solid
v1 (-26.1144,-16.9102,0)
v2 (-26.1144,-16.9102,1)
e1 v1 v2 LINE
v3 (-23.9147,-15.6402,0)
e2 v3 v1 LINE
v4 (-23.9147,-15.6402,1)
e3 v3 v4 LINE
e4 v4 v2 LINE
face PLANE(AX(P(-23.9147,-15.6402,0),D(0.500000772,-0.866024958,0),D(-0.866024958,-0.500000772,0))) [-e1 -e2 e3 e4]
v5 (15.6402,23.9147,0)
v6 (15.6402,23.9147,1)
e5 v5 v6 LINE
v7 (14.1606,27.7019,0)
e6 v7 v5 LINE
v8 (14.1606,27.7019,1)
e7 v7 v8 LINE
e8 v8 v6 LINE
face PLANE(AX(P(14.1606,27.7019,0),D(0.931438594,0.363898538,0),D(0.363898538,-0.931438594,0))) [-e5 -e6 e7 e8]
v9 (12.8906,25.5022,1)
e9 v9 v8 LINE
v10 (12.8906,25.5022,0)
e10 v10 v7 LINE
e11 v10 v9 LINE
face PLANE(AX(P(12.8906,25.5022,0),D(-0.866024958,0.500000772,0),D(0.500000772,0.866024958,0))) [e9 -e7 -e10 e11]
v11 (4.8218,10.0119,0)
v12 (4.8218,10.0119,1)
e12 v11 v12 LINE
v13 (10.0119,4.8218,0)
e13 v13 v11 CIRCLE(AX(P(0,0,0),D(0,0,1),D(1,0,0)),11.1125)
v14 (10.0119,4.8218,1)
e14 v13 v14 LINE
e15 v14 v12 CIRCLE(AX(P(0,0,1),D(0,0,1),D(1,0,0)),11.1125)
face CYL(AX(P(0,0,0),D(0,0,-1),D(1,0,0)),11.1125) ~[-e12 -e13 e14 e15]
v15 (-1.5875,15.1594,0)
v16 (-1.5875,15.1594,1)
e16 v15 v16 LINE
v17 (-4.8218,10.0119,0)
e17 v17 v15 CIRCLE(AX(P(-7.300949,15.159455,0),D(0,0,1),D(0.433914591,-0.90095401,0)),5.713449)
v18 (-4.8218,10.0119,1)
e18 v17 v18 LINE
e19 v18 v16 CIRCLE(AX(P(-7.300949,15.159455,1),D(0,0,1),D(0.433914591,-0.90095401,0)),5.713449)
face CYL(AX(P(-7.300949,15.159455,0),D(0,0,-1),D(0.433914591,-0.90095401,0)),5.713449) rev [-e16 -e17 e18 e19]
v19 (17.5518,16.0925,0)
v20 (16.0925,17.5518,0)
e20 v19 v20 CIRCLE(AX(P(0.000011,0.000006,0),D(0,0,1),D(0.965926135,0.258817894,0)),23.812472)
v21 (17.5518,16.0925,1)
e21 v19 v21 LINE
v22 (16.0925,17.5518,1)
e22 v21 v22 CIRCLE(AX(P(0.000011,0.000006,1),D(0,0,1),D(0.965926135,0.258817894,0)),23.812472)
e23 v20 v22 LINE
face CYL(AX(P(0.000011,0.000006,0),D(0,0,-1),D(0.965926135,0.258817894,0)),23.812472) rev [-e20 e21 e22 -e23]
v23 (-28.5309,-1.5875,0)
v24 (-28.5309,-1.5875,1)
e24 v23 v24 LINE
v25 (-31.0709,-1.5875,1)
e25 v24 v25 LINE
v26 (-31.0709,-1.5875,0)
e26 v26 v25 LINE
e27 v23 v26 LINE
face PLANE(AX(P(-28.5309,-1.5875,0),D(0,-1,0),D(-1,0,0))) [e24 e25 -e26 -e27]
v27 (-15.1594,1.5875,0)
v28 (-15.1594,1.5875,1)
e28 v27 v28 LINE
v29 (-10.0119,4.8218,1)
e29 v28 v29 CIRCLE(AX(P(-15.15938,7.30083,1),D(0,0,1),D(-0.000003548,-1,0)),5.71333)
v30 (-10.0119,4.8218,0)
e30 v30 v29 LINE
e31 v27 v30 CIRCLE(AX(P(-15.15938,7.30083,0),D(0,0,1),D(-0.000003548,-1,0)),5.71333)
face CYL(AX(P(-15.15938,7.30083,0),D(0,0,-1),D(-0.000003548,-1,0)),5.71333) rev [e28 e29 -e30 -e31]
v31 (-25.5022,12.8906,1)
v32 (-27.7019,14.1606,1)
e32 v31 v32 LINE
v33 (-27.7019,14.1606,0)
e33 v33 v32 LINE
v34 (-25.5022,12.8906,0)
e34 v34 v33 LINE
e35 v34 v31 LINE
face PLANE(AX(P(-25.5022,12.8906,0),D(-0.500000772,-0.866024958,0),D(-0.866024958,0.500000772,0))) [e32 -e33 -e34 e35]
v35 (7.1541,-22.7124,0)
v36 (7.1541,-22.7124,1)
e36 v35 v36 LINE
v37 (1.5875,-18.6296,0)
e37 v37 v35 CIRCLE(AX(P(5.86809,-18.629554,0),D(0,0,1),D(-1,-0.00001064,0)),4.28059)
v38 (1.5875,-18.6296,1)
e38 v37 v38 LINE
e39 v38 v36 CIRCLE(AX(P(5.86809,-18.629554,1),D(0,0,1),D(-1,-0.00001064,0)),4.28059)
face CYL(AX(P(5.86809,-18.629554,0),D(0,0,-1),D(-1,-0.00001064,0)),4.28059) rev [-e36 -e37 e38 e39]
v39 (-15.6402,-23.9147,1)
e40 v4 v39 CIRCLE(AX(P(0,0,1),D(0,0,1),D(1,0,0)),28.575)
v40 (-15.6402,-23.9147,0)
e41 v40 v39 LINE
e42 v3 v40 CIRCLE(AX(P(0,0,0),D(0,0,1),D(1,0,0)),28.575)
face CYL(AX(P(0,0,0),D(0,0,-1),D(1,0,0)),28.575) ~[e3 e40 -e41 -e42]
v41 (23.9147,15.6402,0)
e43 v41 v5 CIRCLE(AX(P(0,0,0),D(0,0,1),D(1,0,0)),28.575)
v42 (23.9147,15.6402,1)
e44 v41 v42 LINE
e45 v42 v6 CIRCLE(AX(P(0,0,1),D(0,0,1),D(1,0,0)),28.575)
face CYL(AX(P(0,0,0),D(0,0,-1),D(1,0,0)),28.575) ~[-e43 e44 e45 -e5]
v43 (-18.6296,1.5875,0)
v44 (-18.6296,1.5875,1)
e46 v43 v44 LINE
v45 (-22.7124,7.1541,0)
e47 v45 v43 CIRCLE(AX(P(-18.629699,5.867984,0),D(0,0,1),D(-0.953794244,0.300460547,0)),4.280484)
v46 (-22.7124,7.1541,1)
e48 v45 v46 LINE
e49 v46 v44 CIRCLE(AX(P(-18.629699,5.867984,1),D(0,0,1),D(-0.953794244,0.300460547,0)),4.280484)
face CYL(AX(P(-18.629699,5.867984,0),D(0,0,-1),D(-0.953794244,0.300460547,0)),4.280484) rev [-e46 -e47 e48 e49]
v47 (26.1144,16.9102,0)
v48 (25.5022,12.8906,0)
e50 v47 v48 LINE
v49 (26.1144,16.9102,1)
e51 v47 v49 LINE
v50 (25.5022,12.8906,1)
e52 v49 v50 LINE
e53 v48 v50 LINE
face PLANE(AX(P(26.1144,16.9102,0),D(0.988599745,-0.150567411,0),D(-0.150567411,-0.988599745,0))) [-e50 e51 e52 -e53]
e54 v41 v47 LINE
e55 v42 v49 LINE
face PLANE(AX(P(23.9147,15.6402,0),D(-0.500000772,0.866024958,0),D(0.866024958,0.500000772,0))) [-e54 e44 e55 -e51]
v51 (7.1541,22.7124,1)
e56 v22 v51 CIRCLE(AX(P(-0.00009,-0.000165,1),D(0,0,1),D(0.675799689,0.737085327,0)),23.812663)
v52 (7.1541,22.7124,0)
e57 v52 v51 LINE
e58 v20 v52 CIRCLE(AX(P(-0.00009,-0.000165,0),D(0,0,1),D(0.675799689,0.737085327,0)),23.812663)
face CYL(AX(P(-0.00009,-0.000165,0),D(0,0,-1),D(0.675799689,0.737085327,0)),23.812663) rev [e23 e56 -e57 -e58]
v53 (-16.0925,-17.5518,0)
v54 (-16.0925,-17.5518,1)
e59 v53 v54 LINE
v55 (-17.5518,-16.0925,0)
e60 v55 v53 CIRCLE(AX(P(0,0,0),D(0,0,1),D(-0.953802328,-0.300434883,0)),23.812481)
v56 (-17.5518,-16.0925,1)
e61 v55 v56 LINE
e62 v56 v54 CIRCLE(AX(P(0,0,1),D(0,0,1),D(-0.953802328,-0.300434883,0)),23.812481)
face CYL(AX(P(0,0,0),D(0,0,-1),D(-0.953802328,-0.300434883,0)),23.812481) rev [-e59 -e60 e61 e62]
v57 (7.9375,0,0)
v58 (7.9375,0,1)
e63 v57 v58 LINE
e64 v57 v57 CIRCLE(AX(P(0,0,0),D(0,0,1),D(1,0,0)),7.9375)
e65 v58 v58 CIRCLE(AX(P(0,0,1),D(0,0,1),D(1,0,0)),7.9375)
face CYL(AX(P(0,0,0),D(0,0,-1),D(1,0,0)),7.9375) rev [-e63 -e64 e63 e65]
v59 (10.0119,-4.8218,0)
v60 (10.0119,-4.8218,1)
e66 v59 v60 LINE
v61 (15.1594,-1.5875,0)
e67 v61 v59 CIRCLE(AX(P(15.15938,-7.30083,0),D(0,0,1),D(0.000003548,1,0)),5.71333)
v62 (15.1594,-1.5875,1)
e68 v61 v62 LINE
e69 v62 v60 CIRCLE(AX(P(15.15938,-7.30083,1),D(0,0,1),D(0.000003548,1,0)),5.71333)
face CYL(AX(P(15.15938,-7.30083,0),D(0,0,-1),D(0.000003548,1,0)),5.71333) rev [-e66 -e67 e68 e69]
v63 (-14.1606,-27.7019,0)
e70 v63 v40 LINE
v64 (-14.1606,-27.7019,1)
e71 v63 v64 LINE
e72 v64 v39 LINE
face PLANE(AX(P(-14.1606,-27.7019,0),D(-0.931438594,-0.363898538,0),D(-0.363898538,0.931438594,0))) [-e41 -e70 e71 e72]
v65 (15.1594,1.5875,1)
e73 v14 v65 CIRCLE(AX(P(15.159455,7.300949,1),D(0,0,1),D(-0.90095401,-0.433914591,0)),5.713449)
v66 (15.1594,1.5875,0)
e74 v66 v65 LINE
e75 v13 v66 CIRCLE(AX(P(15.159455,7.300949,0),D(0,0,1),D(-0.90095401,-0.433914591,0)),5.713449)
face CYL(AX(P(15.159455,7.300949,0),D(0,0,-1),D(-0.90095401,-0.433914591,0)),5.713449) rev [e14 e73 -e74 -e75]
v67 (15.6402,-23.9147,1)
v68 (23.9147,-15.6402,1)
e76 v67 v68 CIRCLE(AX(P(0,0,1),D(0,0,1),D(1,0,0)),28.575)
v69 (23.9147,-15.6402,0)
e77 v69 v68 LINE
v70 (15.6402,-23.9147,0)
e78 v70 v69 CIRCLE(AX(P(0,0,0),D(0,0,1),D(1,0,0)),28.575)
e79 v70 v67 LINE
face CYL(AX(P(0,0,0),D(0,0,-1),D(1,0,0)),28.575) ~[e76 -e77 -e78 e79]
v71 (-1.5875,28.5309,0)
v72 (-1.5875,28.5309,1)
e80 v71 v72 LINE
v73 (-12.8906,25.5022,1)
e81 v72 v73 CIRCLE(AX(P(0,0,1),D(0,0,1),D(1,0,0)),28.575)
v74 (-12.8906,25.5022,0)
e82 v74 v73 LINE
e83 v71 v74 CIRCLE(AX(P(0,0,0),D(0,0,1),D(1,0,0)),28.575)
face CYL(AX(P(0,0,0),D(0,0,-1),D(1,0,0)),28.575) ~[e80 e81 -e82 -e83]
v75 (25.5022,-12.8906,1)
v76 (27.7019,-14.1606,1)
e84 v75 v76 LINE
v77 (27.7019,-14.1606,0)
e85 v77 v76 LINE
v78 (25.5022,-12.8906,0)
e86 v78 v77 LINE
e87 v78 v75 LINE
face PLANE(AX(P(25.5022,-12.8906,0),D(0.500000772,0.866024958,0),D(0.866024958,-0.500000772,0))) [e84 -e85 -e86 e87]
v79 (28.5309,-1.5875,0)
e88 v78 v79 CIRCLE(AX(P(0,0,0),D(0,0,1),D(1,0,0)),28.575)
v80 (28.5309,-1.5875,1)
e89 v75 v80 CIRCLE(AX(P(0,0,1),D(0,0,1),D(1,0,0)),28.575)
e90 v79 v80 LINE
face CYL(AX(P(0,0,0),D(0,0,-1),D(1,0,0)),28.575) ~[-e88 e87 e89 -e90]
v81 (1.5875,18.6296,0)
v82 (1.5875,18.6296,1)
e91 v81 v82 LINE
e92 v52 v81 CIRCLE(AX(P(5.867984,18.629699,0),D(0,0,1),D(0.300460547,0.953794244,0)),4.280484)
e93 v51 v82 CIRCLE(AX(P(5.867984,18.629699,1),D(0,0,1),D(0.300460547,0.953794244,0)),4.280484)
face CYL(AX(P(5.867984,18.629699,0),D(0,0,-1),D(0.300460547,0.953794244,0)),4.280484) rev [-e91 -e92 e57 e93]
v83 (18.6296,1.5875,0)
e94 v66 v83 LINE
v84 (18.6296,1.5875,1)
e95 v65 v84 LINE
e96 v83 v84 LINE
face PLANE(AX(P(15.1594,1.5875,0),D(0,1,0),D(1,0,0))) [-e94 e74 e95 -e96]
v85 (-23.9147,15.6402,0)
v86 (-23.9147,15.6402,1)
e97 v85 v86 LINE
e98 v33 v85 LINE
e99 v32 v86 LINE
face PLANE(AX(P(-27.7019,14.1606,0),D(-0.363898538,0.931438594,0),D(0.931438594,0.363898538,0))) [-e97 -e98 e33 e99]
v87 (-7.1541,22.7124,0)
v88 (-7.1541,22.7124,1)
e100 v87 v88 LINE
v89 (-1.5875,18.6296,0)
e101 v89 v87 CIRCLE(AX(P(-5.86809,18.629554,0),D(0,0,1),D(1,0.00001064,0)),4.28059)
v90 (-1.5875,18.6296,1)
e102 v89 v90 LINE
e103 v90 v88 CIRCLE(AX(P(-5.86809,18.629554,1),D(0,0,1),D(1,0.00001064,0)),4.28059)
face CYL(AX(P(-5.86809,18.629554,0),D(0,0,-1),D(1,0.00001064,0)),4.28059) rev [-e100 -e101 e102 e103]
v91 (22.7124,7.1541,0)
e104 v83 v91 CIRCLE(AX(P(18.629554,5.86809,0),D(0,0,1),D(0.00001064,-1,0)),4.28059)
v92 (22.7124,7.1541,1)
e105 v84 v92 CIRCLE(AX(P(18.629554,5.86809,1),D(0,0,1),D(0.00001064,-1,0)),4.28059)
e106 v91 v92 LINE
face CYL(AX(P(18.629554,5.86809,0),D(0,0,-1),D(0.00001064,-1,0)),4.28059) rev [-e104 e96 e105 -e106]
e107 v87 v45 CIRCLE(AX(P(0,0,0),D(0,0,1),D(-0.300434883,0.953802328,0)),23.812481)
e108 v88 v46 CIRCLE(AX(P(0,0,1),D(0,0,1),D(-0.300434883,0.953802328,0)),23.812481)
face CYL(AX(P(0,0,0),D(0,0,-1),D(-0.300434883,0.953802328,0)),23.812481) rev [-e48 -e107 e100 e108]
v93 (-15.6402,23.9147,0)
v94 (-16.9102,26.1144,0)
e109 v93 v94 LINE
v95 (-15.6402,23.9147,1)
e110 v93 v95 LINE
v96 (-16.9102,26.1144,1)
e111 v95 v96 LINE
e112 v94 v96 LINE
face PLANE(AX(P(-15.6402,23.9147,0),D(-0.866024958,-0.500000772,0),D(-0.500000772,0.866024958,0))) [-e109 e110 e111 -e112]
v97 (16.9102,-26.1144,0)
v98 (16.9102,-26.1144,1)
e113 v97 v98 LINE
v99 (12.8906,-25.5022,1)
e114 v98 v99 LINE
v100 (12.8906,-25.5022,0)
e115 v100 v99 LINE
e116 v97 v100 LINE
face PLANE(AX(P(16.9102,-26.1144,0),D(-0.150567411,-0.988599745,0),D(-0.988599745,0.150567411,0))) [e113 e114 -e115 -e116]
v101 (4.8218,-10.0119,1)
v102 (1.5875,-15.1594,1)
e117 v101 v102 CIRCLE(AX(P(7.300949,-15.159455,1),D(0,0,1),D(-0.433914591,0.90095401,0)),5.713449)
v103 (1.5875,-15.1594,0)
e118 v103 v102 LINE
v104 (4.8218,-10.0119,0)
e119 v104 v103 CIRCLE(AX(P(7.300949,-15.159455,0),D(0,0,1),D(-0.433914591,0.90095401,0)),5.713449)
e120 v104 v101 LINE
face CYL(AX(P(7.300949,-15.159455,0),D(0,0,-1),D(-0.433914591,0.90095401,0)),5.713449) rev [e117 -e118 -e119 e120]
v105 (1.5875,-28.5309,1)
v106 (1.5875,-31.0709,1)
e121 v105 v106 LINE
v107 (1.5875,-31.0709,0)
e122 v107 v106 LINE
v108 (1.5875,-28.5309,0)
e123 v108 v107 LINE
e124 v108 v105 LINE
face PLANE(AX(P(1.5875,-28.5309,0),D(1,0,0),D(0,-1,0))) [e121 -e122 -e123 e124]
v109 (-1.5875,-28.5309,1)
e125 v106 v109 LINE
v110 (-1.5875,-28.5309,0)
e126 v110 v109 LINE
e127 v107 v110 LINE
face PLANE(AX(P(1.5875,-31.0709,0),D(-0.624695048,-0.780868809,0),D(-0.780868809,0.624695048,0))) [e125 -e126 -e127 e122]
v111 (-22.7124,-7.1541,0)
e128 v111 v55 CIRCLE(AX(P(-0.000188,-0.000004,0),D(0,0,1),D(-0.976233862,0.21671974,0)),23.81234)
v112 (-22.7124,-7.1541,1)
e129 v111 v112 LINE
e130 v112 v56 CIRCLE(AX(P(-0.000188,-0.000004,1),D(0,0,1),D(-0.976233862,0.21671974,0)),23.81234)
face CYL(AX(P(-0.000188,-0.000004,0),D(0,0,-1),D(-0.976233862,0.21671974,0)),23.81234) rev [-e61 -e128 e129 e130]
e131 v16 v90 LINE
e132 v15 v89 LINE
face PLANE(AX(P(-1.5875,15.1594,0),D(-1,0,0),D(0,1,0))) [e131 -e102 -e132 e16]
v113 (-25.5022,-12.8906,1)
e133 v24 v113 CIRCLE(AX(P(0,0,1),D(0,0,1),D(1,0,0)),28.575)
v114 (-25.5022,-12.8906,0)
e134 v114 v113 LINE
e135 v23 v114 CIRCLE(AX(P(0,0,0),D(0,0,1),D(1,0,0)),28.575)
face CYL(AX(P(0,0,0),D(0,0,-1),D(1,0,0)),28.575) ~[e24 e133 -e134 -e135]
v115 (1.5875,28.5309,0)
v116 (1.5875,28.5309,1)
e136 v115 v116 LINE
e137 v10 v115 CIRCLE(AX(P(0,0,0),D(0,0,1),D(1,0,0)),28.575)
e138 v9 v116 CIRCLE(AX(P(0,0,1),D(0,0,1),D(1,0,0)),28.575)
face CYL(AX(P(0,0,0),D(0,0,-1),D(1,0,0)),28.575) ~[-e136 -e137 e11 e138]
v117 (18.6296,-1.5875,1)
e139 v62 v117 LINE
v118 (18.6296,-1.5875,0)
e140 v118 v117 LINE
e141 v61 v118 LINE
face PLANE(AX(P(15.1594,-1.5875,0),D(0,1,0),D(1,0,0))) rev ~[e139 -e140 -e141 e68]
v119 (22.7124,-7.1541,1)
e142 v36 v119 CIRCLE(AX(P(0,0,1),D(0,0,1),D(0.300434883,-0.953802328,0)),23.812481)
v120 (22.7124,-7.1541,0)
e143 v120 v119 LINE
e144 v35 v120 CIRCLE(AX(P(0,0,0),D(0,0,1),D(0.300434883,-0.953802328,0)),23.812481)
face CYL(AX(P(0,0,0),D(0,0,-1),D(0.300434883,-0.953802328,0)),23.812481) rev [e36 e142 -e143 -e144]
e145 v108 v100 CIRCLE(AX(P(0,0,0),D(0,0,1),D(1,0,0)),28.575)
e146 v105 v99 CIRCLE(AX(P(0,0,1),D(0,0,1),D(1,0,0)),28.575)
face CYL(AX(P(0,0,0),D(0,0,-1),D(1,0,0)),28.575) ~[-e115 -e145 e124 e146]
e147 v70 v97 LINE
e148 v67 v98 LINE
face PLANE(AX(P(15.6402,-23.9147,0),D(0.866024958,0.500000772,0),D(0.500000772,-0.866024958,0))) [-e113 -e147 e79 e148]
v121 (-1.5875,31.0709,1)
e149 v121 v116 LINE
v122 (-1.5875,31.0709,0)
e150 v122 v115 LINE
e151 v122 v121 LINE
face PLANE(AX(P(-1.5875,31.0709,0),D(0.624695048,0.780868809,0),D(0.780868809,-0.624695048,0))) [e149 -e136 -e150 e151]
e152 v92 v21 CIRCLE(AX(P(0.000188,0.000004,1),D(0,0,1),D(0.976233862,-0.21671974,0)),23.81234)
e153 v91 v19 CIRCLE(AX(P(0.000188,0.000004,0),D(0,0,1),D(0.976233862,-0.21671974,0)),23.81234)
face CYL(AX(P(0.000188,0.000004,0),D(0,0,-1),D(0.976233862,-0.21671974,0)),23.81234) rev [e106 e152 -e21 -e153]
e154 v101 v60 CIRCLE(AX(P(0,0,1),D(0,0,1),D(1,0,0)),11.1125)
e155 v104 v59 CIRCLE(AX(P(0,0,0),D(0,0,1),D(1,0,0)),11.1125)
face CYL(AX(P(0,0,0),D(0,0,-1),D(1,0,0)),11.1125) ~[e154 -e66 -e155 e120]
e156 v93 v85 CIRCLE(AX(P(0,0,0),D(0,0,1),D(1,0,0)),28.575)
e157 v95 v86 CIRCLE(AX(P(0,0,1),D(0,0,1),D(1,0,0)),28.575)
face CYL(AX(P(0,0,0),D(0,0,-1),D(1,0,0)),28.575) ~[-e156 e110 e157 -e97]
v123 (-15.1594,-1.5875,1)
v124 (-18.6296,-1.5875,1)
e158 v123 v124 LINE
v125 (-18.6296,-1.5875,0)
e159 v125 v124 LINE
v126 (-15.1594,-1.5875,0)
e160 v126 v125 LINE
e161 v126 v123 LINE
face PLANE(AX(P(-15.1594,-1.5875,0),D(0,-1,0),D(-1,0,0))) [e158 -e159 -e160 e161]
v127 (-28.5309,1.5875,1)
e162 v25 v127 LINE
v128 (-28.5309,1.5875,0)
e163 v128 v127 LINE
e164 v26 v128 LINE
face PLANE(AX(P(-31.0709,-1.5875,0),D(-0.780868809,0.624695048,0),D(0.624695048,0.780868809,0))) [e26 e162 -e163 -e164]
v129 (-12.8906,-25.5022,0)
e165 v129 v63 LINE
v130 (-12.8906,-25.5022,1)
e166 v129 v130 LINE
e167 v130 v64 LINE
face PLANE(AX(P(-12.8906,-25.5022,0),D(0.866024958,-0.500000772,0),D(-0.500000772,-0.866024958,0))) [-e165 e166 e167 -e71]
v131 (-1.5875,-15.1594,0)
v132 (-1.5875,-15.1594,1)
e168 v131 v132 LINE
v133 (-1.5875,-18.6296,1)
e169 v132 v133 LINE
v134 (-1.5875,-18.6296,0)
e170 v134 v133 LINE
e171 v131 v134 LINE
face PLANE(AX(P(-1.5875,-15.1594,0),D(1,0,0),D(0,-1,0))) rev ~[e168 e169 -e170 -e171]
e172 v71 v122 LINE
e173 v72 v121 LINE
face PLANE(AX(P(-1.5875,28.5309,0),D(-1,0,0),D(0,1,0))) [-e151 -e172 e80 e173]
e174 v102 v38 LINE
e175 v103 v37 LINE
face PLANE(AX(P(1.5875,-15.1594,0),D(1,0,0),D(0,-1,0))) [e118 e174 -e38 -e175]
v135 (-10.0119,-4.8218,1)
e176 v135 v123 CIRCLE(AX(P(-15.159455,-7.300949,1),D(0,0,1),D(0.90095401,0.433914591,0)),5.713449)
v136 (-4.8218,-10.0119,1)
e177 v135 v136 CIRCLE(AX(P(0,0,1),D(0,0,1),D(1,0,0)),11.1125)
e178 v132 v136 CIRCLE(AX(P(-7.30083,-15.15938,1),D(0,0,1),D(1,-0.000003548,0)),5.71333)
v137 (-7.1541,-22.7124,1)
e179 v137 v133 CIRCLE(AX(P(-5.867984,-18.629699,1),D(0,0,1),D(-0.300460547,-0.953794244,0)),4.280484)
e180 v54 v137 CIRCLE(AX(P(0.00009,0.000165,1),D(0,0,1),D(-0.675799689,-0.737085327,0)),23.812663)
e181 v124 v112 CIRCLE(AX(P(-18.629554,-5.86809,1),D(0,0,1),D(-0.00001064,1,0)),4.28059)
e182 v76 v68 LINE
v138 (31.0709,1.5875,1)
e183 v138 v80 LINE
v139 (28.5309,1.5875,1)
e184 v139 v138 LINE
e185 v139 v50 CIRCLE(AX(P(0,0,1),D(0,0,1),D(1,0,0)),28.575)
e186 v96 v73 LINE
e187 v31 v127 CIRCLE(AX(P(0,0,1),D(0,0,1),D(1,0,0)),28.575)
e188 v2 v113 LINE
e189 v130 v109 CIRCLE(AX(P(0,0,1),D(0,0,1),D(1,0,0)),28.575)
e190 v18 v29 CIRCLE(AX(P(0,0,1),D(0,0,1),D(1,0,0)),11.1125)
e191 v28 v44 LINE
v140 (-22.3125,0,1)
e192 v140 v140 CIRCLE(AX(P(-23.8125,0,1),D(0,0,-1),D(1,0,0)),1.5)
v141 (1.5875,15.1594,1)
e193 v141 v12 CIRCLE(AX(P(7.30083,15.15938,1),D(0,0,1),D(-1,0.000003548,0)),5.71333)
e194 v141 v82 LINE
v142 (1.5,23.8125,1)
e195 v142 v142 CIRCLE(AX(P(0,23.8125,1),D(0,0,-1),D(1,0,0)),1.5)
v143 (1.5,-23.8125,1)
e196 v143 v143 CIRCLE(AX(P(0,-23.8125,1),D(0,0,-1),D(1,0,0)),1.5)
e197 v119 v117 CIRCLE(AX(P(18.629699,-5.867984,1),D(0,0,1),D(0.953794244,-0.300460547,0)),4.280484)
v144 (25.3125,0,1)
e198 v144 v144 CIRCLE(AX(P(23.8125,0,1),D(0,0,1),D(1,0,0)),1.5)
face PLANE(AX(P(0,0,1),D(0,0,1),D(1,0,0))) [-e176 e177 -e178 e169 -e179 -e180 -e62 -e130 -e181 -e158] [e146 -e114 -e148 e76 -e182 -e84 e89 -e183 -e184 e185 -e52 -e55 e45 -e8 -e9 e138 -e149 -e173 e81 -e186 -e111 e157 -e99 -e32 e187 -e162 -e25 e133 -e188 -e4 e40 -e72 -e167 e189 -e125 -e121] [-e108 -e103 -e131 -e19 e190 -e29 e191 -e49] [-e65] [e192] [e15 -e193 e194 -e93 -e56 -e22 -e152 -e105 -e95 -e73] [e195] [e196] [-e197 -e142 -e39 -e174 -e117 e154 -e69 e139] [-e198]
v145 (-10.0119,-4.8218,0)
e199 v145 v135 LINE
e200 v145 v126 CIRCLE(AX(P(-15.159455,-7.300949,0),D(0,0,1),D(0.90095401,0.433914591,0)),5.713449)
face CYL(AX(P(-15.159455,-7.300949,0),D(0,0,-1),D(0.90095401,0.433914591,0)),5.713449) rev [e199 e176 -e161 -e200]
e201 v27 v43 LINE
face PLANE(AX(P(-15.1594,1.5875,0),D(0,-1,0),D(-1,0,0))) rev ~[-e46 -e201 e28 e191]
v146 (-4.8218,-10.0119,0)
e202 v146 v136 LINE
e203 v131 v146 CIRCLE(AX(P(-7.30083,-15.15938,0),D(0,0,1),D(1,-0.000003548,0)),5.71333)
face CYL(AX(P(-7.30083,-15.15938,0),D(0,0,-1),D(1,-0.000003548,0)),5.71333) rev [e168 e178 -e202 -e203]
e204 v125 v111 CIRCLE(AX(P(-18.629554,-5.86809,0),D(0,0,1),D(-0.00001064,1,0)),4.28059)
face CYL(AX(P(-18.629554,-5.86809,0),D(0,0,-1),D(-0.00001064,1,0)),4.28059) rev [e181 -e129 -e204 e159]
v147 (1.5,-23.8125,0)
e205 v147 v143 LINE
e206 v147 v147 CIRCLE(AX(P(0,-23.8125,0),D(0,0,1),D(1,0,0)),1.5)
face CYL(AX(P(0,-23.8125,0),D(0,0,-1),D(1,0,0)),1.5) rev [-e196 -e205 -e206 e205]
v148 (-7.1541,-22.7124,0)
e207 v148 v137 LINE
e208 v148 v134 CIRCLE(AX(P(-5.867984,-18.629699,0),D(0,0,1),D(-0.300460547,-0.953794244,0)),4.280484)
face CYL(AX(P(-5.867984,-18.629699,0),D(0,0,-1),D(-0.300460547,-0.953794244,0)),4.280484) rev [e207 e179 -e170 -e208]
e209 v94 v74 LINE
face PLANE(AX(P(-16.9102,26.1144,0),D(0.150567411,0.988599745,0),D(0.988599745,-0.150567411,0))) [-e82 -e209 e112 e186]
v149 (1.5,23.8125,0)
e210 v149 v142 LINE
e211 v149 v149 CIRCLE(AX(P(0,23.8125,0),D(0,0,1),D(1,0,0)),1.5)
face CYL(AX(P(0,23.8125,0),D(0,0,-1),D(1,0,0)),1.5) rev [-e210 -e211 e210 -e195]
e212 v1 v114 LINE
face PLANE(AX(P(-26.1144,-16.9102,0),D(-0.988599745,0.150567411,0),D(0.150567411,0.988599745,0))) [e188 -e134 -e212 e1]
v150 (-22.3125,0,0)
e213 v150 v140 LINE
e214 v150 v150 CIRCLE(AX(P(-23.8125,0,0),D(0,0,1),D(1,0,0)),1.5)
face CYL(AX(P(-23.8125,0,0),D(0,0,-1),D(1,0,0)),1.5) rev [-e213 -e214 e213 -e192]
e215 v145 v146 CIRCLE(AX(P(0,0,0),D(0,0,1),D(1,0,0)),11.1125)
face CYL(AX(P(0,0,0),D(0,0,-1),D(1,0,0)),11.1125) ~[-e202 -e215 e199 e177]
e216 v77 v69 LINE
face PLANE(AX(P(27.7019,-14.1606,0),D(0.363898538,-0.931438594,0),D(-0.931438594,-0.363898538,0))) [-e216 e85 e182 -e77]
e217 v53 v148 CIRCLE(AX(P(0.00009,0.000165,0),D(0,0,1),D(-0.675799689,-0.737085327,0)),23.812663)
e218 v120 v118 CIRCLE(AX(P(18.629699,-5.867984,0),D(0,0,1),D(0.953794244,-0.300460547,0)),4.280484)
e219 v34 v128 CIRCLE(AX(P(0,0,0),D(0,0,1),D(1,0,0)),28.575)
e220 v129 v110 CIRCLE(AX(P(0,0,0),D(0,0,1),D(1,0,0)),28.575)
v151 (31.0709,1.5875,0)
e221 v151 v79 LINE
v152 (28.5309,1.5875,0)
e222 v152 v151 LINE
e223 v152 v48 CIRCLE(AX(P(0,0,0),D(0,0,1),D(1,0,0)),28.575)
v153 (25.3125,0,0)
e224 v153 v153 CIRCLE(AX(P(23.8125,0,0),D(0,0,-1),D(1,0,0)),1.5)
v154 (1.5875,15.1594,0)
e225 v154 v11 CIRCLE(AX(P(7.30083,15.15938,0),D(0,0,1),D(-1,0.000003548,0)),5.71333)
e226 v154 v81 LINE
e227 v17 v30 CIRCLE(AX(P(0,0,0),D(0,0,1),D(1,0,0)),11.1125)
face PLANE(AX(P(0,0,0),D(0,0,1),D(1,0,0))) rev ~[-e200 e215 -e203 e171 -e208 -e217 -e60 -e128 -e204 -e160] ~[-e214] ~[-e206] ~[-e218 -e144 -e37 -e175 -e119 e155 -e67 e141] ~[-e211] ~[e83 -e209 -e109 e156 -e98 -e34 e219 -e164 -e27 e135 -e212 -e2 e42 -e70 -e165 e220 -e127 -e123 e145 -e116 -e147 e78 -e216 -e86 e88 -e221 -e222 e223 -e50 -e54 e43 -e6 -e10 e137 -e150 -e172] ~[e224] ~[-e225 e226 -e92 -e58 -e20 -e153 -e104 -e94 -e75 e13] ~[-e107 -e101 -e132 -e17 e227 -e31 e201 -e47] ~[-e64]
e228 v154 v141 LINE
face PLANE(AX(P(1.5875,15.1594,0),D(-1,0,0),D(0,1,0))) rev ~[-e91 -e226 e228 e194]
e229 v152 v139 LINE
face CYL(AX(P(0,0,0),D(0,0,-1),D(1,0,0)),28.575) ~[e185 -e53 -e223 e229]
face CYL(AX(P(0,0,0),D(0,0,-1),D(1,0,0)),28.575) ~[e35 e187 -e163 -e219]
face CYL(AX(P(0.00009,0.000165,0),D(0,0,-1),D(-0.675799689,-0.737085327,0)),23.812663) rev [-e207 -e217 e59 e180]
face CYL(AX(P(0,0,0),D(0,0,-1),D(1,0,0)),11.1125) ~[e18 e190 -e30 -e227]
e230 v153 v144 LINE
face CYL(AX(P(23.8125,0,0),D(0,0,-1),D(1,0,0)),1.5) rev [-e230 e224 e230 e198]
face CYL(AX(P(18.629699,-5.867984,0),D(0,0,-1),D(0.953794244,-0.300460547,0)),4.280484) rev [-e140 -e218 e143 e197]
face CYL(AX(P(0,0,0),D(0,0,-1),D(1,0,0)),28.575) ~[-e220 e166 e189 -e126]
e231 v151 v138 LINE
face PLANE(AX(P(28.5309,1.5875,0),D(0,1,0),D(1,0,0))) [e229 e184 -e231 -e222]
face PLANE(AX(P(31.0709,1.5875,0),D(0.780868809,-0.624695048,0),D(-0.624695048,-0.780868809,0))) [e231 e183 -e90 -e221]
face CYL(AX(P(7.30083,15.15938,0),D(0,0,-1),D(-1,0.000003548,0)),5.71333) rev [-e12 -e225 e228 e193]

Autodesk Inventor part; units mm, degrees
ref_plane "YZ Plane" through (0, 0, 0) normal (1, 0, 0) x (0, 1, 0)
ref_plane "XZ Plane" through (0, 0, 0) normal (0, 1, 0) x (-1, 0, 0)
ref_plane "XY Plane" through (0, 0, 0) normal (0, 0, 1) x (1, 0, 0)
sketch "Sketch1" plane through (0, 0, 0) normal (0, 0, 1) x (1, 0, 0)
  circle A0 centre (0, 0) radius 28.575
  circle A1 centre (0, 0) radius 23.8125 construction
  circle A2 centre (0, 0) radius 11.1125
  line L0 (0, 0) -> (0, 28.575) construction
  circle A3 centre (0, 23.8125) radius 1.5
  line L1 (-1.5875, 10.9985) -> (-1.5875, 28.5309)
  line L2 (1.5875, 10.9985) -> (1.5875, 28.5309)
  arc A4 (7.1541, 22.7124) -> (1.5875, 18.6296) centre (5.868, 18.6296) ccw
  arc A5 (-1.5875, 18.6296) -> (-7.1541, 22.7124) centre (-5.868, 18.6296) ccw
  arc A6 (1.5875, 15.1594) -> (4.8218, 10.0119) centre (7.3009, 15.1594) ccw
  arc A7 (-4.8218, 10.0119) -> (-1.5875, 15.1594) centre (-7.3009, 15.1594) ccw
  arc A8 (-15.1594, 1.5875) -> (-10.0119, 4.8218) centre (-15.1594, 7.3009) ccw
  line L3 (-10.9985, 1.5875) -> (-28.5309, 1.5875)
  line L4 (-10.9985, -1.5875) -> (-28.5309, -1.5875)
  arc A9 (-10.0119, -4.8218) -> (-15.1594, -1.5875) centre (-15.1594, -7.3009) ccw
  arc A10 (-22.7124, 7.1541) -> (-18.6296, 1.5875) centre (-18.6296, 5.868) ccw
  arc A11 (-18.6296, -1.5875) -> (-22.7124, -7.1541) centre (-18.6296, -5.868) ccw
  circle A12 centre (-23.8125, 0) radius 1.5
  arc A13 (-1.5875, -15.1594) -> (-4.8218, -10.0119) centre (-7.3009, -15.1594) ccw
  line L5 (-1.5875, -10.9985) -> (-1.5875, -28.5309)
  line L6 (1.5875, -10.9985) -> (1.5875, -28.5309)
  arc A14 (4.8218, -10.0119) -> (1.5875, -15.1594) centre (7.3009, -15.1594) ccw
  arc A15 (-7.1541, -22.7124) -> (-1.5875, -18.6296) centre (-5.868, -18.6296) ccw
  arc A16 (1.5875, -18.6296) -> (7.1541, -22.7124) centre (5.868, -18.6296) ccw
  circle A17 centre (0, -23.8125) radius 1.5
  arc A18 (15.1594, -1.5875) -> (10.0119, -4.8218) centre (15.1594, -7.3009) ccw
  line L7 (10.9985, -1.5875) -> (28.5309, -1.5875)
  line L8 (10.9985, 1.5875) -> (28.5309, 1.5875)
  arc A19 (10.0119, 4.8218) -> (15.1594, 1.5875) centre (15.1594, 7.3009) ccw
  arc A20 (22.7124, -7.1541) -> (18.6296, -1.5875) centre (18.6296, -5.868) ccw
  arc A21 (18.6296, 1.5875) -> (22.7124, 7.1541) centre (18.6296, 5.868) ccw
  circle A22 centre (23.8125, 0) radius 1.5
  circle A23 centre (0, 0) radius 7.9375
  arc A24 (-7.1541, 22.7124) -> (-22.7124, 7.1541) centre (0, 0) ccw
  arc A25 (-23.2466, 5.1606) -> (-17.5518, -16.0925) centre (0, 0) ccw
  arc A26 (-16.0925, -17.5518) -> (5.1606, -23.2466) centre (0, 0) ccw
  arc A27 (7.1541, -22.7124) -> (22.7124, -7.1541) centre (0, 0) ccw
  arc A28 (23.2466, -5.1606) -> (17.5518, 16.0925) centre (0, 0) ccw
  arc A29 (16.0925, 17.5518) -> (-5.1606, 23.2466) centre (0, 0) ccw
  line L9 (-1.5875, 28.5309) -> (-1.5875, 31.0709)
  line L10 (-1.5875, 31.0709) -> (1.5875, 28.5309)
  line L11 (-16.9102, 26.1144) -> (-12.8906, 25.5022)
  line L12 (-15.6402, 23.9147) -> (-16.9102, 26.1144)
  line L13 (-27.7019, 14.1606) -> (-23.9147, 15.6402)
  line L14 (-25.5022, 12.8906) -> (-27.7019, 14.1606)
  line L15 (-31.0709, -1.5875) -> (-28.5309, 1.5875)
  line L16 (-28.5309, -1.5875) -> (-31.0709, -1.5875)
  line L17 (-26.1144, -16.9102) -> (-25.5022, -12.8906)
  line L18 (-23.9147, -15.6402) -> (-26.1144, -16.9102)
  line L19 (-14.1606, -27.7019) -> (-15.6402, -23.9147)
  line L20 (-12.8906, -25.5022) -> (-14.1606, -27.7019)
  line L21 (1.5875, -31.0709) -> (-1.5875, -28.5309)
  line L22 (1.5875, -28.5309) -> (1.5875, -31.0709)
  line L23 (16.9102, -26.1144) -> (12.8906, -25.5022)
  line L24 (15.6402, -23.9147) -> (16.9102, -26.1144)
  line L25 (27.7019, -14.1606) -> (23.9147, -15.6402)
  line L26 (25.5022, -12.8906) -> (27.7019, -14.1606)
  line L27 (31.0709, 1.5875) -> (28.5309, -1.5875)
  line L28 (28.5309, 1.5875) -> (31.0709, 1.5875)
  line L29 (26.1144, 16.9102) -> (25.5022, 12.8906)
  line L30 (23.9147, 15.6402) -> (26.1144, 16.9102)
  line L31 (14.1606, 27.7019) -> (15.6402, 23.9147)
  line L32 (12.8906, 25.5022) -> (14.1606, 27.7019)
  arc A30 (-22.7124, -7.1541) -> (-7.1541, -22.7124) centre (0, 0) ccw
  arc A31 (7.1541, -22.7124) -> (22.7124, -7.1541) centre (0, 0) ccw
  arc A32 (23.0011, 6.1631) -> (7.1541, 22.7124) centre (0, 0) ccw
  arc A33 (-7.1541, 22.7124) -> (-22.7124, 7.1541) centre (0, 0) ccw
  point P0 (-1.5875, 15.1594)
  point P1 (-4.8218, 10.0119)
  point P2 (-10.0119, 4.8218)
  point P3 (-1.5875, 18.6296)
  point P4 (1.5875, -15.1594)
  point P5 (4.8218, -10.0119)
  point P6 (10.0119, -4.8218)
  point P7 (-7.072, -22.7381)
  point P8 (-16.1558, -17.4936)
  point P9 (1.5875, -18.6296)
  point P10 (-28.5309, 1.5875)
  point P11 (-23.9147, -15.6402)
  point P12 (-1.5875, -28.5309)
  point P13 (1.5875, -28.5309)
  point P14 (23.9147, -15.6402)
  point P15 (25.5022, -12.8906)
  point P16 (25.5022, 12.8906)
  point P17 (23.9147, 15.6402)
  point P18 (15.1594, 1.5875)
  point P19 (7.072, -22.7381)
  point P20 (18.6296, 1.5875)
  point P21 (-15.1594, -1.5875)
  point P22 (-10.0119, -4.8218)
  point P23 (-4.8218, -10.0119)
  point P24 (-23.2278, -5.2445)
  point P25 (-22.7124, -7.1541)
  point P26 (-18.6296, -1.5875)
  point P27 (7.1541, 22.7124)
  point P28 (-23.7595, -1.5875)
  point P29 (16.0925, 17.5518)
  point P30 (17.5518, 16.0925)
  point P31 (22.7124, 7.1541)
  point P32 (-7.1541, -22.7124)
  point P33 (-16.0925, -17.5518)
  point P34 (-17.5518, -16.0925)
  point P35 (22.7124, -7.1541)
  point P36 (7.1541, -22.7124)
  dimension "d0" = 57.15
  dimension "d1" = 47.625
  dimension "d2" = 22.225
  dimension "d3" = 3
  dimension "d4" = 1.5875
  dimension "d5" = 1.5875
  dimension "d8" = 360
  dimension "d10" = 15.875
  dimension "d13" = 360
  dimension "d15" = 2.54
  dimension "d18" = 360
extrude "Extrusion1" add sketch "Sketch1" along normal blind 1 contours A0 L7 A28 A22 L8 | A0 L28 L27 | L8 A28 A32 A29 L2 A0 | A0 L6 A16 A27 A20 L7 | A0 L30 L29 | A28 A22 L7 A2 L8 | L8 A21 A28 | L26 L25 A0 | A0 L32 L31 | L8 A2 A19 | L24 L23 A0 | A18 A2 L7 | A2 | L2 A29 A3 L1 A0 | A0 L9 L10 | A2 L2 A6 | L22 L21 A0 | A0 L5 A26 A17 L6 | A14 L6 A2 | L6 A26 A17 L5 A2 | L1 A5 A24 A10 L3 A0 | A29 A4 L2 | L2 A2 L1 A29 A3 | A0 L4 A25 A30 A26 L5 | A0 L12 L11 | A2 A7 L1 | L20 L19 A0 | A26 A15 L5 | L5 A13 A2 | A0 L14 L13 | A2 L3 A8 | L18 L17 A0 | A9 L4 A2 | A2 L4 A25 A12 L3 | L3 A25 A12 L4 A0 | A0 L16 L15 | A25 L4 A11
properties part number "Wood Magnets  (UNI) V1.0." material "Titanium"
